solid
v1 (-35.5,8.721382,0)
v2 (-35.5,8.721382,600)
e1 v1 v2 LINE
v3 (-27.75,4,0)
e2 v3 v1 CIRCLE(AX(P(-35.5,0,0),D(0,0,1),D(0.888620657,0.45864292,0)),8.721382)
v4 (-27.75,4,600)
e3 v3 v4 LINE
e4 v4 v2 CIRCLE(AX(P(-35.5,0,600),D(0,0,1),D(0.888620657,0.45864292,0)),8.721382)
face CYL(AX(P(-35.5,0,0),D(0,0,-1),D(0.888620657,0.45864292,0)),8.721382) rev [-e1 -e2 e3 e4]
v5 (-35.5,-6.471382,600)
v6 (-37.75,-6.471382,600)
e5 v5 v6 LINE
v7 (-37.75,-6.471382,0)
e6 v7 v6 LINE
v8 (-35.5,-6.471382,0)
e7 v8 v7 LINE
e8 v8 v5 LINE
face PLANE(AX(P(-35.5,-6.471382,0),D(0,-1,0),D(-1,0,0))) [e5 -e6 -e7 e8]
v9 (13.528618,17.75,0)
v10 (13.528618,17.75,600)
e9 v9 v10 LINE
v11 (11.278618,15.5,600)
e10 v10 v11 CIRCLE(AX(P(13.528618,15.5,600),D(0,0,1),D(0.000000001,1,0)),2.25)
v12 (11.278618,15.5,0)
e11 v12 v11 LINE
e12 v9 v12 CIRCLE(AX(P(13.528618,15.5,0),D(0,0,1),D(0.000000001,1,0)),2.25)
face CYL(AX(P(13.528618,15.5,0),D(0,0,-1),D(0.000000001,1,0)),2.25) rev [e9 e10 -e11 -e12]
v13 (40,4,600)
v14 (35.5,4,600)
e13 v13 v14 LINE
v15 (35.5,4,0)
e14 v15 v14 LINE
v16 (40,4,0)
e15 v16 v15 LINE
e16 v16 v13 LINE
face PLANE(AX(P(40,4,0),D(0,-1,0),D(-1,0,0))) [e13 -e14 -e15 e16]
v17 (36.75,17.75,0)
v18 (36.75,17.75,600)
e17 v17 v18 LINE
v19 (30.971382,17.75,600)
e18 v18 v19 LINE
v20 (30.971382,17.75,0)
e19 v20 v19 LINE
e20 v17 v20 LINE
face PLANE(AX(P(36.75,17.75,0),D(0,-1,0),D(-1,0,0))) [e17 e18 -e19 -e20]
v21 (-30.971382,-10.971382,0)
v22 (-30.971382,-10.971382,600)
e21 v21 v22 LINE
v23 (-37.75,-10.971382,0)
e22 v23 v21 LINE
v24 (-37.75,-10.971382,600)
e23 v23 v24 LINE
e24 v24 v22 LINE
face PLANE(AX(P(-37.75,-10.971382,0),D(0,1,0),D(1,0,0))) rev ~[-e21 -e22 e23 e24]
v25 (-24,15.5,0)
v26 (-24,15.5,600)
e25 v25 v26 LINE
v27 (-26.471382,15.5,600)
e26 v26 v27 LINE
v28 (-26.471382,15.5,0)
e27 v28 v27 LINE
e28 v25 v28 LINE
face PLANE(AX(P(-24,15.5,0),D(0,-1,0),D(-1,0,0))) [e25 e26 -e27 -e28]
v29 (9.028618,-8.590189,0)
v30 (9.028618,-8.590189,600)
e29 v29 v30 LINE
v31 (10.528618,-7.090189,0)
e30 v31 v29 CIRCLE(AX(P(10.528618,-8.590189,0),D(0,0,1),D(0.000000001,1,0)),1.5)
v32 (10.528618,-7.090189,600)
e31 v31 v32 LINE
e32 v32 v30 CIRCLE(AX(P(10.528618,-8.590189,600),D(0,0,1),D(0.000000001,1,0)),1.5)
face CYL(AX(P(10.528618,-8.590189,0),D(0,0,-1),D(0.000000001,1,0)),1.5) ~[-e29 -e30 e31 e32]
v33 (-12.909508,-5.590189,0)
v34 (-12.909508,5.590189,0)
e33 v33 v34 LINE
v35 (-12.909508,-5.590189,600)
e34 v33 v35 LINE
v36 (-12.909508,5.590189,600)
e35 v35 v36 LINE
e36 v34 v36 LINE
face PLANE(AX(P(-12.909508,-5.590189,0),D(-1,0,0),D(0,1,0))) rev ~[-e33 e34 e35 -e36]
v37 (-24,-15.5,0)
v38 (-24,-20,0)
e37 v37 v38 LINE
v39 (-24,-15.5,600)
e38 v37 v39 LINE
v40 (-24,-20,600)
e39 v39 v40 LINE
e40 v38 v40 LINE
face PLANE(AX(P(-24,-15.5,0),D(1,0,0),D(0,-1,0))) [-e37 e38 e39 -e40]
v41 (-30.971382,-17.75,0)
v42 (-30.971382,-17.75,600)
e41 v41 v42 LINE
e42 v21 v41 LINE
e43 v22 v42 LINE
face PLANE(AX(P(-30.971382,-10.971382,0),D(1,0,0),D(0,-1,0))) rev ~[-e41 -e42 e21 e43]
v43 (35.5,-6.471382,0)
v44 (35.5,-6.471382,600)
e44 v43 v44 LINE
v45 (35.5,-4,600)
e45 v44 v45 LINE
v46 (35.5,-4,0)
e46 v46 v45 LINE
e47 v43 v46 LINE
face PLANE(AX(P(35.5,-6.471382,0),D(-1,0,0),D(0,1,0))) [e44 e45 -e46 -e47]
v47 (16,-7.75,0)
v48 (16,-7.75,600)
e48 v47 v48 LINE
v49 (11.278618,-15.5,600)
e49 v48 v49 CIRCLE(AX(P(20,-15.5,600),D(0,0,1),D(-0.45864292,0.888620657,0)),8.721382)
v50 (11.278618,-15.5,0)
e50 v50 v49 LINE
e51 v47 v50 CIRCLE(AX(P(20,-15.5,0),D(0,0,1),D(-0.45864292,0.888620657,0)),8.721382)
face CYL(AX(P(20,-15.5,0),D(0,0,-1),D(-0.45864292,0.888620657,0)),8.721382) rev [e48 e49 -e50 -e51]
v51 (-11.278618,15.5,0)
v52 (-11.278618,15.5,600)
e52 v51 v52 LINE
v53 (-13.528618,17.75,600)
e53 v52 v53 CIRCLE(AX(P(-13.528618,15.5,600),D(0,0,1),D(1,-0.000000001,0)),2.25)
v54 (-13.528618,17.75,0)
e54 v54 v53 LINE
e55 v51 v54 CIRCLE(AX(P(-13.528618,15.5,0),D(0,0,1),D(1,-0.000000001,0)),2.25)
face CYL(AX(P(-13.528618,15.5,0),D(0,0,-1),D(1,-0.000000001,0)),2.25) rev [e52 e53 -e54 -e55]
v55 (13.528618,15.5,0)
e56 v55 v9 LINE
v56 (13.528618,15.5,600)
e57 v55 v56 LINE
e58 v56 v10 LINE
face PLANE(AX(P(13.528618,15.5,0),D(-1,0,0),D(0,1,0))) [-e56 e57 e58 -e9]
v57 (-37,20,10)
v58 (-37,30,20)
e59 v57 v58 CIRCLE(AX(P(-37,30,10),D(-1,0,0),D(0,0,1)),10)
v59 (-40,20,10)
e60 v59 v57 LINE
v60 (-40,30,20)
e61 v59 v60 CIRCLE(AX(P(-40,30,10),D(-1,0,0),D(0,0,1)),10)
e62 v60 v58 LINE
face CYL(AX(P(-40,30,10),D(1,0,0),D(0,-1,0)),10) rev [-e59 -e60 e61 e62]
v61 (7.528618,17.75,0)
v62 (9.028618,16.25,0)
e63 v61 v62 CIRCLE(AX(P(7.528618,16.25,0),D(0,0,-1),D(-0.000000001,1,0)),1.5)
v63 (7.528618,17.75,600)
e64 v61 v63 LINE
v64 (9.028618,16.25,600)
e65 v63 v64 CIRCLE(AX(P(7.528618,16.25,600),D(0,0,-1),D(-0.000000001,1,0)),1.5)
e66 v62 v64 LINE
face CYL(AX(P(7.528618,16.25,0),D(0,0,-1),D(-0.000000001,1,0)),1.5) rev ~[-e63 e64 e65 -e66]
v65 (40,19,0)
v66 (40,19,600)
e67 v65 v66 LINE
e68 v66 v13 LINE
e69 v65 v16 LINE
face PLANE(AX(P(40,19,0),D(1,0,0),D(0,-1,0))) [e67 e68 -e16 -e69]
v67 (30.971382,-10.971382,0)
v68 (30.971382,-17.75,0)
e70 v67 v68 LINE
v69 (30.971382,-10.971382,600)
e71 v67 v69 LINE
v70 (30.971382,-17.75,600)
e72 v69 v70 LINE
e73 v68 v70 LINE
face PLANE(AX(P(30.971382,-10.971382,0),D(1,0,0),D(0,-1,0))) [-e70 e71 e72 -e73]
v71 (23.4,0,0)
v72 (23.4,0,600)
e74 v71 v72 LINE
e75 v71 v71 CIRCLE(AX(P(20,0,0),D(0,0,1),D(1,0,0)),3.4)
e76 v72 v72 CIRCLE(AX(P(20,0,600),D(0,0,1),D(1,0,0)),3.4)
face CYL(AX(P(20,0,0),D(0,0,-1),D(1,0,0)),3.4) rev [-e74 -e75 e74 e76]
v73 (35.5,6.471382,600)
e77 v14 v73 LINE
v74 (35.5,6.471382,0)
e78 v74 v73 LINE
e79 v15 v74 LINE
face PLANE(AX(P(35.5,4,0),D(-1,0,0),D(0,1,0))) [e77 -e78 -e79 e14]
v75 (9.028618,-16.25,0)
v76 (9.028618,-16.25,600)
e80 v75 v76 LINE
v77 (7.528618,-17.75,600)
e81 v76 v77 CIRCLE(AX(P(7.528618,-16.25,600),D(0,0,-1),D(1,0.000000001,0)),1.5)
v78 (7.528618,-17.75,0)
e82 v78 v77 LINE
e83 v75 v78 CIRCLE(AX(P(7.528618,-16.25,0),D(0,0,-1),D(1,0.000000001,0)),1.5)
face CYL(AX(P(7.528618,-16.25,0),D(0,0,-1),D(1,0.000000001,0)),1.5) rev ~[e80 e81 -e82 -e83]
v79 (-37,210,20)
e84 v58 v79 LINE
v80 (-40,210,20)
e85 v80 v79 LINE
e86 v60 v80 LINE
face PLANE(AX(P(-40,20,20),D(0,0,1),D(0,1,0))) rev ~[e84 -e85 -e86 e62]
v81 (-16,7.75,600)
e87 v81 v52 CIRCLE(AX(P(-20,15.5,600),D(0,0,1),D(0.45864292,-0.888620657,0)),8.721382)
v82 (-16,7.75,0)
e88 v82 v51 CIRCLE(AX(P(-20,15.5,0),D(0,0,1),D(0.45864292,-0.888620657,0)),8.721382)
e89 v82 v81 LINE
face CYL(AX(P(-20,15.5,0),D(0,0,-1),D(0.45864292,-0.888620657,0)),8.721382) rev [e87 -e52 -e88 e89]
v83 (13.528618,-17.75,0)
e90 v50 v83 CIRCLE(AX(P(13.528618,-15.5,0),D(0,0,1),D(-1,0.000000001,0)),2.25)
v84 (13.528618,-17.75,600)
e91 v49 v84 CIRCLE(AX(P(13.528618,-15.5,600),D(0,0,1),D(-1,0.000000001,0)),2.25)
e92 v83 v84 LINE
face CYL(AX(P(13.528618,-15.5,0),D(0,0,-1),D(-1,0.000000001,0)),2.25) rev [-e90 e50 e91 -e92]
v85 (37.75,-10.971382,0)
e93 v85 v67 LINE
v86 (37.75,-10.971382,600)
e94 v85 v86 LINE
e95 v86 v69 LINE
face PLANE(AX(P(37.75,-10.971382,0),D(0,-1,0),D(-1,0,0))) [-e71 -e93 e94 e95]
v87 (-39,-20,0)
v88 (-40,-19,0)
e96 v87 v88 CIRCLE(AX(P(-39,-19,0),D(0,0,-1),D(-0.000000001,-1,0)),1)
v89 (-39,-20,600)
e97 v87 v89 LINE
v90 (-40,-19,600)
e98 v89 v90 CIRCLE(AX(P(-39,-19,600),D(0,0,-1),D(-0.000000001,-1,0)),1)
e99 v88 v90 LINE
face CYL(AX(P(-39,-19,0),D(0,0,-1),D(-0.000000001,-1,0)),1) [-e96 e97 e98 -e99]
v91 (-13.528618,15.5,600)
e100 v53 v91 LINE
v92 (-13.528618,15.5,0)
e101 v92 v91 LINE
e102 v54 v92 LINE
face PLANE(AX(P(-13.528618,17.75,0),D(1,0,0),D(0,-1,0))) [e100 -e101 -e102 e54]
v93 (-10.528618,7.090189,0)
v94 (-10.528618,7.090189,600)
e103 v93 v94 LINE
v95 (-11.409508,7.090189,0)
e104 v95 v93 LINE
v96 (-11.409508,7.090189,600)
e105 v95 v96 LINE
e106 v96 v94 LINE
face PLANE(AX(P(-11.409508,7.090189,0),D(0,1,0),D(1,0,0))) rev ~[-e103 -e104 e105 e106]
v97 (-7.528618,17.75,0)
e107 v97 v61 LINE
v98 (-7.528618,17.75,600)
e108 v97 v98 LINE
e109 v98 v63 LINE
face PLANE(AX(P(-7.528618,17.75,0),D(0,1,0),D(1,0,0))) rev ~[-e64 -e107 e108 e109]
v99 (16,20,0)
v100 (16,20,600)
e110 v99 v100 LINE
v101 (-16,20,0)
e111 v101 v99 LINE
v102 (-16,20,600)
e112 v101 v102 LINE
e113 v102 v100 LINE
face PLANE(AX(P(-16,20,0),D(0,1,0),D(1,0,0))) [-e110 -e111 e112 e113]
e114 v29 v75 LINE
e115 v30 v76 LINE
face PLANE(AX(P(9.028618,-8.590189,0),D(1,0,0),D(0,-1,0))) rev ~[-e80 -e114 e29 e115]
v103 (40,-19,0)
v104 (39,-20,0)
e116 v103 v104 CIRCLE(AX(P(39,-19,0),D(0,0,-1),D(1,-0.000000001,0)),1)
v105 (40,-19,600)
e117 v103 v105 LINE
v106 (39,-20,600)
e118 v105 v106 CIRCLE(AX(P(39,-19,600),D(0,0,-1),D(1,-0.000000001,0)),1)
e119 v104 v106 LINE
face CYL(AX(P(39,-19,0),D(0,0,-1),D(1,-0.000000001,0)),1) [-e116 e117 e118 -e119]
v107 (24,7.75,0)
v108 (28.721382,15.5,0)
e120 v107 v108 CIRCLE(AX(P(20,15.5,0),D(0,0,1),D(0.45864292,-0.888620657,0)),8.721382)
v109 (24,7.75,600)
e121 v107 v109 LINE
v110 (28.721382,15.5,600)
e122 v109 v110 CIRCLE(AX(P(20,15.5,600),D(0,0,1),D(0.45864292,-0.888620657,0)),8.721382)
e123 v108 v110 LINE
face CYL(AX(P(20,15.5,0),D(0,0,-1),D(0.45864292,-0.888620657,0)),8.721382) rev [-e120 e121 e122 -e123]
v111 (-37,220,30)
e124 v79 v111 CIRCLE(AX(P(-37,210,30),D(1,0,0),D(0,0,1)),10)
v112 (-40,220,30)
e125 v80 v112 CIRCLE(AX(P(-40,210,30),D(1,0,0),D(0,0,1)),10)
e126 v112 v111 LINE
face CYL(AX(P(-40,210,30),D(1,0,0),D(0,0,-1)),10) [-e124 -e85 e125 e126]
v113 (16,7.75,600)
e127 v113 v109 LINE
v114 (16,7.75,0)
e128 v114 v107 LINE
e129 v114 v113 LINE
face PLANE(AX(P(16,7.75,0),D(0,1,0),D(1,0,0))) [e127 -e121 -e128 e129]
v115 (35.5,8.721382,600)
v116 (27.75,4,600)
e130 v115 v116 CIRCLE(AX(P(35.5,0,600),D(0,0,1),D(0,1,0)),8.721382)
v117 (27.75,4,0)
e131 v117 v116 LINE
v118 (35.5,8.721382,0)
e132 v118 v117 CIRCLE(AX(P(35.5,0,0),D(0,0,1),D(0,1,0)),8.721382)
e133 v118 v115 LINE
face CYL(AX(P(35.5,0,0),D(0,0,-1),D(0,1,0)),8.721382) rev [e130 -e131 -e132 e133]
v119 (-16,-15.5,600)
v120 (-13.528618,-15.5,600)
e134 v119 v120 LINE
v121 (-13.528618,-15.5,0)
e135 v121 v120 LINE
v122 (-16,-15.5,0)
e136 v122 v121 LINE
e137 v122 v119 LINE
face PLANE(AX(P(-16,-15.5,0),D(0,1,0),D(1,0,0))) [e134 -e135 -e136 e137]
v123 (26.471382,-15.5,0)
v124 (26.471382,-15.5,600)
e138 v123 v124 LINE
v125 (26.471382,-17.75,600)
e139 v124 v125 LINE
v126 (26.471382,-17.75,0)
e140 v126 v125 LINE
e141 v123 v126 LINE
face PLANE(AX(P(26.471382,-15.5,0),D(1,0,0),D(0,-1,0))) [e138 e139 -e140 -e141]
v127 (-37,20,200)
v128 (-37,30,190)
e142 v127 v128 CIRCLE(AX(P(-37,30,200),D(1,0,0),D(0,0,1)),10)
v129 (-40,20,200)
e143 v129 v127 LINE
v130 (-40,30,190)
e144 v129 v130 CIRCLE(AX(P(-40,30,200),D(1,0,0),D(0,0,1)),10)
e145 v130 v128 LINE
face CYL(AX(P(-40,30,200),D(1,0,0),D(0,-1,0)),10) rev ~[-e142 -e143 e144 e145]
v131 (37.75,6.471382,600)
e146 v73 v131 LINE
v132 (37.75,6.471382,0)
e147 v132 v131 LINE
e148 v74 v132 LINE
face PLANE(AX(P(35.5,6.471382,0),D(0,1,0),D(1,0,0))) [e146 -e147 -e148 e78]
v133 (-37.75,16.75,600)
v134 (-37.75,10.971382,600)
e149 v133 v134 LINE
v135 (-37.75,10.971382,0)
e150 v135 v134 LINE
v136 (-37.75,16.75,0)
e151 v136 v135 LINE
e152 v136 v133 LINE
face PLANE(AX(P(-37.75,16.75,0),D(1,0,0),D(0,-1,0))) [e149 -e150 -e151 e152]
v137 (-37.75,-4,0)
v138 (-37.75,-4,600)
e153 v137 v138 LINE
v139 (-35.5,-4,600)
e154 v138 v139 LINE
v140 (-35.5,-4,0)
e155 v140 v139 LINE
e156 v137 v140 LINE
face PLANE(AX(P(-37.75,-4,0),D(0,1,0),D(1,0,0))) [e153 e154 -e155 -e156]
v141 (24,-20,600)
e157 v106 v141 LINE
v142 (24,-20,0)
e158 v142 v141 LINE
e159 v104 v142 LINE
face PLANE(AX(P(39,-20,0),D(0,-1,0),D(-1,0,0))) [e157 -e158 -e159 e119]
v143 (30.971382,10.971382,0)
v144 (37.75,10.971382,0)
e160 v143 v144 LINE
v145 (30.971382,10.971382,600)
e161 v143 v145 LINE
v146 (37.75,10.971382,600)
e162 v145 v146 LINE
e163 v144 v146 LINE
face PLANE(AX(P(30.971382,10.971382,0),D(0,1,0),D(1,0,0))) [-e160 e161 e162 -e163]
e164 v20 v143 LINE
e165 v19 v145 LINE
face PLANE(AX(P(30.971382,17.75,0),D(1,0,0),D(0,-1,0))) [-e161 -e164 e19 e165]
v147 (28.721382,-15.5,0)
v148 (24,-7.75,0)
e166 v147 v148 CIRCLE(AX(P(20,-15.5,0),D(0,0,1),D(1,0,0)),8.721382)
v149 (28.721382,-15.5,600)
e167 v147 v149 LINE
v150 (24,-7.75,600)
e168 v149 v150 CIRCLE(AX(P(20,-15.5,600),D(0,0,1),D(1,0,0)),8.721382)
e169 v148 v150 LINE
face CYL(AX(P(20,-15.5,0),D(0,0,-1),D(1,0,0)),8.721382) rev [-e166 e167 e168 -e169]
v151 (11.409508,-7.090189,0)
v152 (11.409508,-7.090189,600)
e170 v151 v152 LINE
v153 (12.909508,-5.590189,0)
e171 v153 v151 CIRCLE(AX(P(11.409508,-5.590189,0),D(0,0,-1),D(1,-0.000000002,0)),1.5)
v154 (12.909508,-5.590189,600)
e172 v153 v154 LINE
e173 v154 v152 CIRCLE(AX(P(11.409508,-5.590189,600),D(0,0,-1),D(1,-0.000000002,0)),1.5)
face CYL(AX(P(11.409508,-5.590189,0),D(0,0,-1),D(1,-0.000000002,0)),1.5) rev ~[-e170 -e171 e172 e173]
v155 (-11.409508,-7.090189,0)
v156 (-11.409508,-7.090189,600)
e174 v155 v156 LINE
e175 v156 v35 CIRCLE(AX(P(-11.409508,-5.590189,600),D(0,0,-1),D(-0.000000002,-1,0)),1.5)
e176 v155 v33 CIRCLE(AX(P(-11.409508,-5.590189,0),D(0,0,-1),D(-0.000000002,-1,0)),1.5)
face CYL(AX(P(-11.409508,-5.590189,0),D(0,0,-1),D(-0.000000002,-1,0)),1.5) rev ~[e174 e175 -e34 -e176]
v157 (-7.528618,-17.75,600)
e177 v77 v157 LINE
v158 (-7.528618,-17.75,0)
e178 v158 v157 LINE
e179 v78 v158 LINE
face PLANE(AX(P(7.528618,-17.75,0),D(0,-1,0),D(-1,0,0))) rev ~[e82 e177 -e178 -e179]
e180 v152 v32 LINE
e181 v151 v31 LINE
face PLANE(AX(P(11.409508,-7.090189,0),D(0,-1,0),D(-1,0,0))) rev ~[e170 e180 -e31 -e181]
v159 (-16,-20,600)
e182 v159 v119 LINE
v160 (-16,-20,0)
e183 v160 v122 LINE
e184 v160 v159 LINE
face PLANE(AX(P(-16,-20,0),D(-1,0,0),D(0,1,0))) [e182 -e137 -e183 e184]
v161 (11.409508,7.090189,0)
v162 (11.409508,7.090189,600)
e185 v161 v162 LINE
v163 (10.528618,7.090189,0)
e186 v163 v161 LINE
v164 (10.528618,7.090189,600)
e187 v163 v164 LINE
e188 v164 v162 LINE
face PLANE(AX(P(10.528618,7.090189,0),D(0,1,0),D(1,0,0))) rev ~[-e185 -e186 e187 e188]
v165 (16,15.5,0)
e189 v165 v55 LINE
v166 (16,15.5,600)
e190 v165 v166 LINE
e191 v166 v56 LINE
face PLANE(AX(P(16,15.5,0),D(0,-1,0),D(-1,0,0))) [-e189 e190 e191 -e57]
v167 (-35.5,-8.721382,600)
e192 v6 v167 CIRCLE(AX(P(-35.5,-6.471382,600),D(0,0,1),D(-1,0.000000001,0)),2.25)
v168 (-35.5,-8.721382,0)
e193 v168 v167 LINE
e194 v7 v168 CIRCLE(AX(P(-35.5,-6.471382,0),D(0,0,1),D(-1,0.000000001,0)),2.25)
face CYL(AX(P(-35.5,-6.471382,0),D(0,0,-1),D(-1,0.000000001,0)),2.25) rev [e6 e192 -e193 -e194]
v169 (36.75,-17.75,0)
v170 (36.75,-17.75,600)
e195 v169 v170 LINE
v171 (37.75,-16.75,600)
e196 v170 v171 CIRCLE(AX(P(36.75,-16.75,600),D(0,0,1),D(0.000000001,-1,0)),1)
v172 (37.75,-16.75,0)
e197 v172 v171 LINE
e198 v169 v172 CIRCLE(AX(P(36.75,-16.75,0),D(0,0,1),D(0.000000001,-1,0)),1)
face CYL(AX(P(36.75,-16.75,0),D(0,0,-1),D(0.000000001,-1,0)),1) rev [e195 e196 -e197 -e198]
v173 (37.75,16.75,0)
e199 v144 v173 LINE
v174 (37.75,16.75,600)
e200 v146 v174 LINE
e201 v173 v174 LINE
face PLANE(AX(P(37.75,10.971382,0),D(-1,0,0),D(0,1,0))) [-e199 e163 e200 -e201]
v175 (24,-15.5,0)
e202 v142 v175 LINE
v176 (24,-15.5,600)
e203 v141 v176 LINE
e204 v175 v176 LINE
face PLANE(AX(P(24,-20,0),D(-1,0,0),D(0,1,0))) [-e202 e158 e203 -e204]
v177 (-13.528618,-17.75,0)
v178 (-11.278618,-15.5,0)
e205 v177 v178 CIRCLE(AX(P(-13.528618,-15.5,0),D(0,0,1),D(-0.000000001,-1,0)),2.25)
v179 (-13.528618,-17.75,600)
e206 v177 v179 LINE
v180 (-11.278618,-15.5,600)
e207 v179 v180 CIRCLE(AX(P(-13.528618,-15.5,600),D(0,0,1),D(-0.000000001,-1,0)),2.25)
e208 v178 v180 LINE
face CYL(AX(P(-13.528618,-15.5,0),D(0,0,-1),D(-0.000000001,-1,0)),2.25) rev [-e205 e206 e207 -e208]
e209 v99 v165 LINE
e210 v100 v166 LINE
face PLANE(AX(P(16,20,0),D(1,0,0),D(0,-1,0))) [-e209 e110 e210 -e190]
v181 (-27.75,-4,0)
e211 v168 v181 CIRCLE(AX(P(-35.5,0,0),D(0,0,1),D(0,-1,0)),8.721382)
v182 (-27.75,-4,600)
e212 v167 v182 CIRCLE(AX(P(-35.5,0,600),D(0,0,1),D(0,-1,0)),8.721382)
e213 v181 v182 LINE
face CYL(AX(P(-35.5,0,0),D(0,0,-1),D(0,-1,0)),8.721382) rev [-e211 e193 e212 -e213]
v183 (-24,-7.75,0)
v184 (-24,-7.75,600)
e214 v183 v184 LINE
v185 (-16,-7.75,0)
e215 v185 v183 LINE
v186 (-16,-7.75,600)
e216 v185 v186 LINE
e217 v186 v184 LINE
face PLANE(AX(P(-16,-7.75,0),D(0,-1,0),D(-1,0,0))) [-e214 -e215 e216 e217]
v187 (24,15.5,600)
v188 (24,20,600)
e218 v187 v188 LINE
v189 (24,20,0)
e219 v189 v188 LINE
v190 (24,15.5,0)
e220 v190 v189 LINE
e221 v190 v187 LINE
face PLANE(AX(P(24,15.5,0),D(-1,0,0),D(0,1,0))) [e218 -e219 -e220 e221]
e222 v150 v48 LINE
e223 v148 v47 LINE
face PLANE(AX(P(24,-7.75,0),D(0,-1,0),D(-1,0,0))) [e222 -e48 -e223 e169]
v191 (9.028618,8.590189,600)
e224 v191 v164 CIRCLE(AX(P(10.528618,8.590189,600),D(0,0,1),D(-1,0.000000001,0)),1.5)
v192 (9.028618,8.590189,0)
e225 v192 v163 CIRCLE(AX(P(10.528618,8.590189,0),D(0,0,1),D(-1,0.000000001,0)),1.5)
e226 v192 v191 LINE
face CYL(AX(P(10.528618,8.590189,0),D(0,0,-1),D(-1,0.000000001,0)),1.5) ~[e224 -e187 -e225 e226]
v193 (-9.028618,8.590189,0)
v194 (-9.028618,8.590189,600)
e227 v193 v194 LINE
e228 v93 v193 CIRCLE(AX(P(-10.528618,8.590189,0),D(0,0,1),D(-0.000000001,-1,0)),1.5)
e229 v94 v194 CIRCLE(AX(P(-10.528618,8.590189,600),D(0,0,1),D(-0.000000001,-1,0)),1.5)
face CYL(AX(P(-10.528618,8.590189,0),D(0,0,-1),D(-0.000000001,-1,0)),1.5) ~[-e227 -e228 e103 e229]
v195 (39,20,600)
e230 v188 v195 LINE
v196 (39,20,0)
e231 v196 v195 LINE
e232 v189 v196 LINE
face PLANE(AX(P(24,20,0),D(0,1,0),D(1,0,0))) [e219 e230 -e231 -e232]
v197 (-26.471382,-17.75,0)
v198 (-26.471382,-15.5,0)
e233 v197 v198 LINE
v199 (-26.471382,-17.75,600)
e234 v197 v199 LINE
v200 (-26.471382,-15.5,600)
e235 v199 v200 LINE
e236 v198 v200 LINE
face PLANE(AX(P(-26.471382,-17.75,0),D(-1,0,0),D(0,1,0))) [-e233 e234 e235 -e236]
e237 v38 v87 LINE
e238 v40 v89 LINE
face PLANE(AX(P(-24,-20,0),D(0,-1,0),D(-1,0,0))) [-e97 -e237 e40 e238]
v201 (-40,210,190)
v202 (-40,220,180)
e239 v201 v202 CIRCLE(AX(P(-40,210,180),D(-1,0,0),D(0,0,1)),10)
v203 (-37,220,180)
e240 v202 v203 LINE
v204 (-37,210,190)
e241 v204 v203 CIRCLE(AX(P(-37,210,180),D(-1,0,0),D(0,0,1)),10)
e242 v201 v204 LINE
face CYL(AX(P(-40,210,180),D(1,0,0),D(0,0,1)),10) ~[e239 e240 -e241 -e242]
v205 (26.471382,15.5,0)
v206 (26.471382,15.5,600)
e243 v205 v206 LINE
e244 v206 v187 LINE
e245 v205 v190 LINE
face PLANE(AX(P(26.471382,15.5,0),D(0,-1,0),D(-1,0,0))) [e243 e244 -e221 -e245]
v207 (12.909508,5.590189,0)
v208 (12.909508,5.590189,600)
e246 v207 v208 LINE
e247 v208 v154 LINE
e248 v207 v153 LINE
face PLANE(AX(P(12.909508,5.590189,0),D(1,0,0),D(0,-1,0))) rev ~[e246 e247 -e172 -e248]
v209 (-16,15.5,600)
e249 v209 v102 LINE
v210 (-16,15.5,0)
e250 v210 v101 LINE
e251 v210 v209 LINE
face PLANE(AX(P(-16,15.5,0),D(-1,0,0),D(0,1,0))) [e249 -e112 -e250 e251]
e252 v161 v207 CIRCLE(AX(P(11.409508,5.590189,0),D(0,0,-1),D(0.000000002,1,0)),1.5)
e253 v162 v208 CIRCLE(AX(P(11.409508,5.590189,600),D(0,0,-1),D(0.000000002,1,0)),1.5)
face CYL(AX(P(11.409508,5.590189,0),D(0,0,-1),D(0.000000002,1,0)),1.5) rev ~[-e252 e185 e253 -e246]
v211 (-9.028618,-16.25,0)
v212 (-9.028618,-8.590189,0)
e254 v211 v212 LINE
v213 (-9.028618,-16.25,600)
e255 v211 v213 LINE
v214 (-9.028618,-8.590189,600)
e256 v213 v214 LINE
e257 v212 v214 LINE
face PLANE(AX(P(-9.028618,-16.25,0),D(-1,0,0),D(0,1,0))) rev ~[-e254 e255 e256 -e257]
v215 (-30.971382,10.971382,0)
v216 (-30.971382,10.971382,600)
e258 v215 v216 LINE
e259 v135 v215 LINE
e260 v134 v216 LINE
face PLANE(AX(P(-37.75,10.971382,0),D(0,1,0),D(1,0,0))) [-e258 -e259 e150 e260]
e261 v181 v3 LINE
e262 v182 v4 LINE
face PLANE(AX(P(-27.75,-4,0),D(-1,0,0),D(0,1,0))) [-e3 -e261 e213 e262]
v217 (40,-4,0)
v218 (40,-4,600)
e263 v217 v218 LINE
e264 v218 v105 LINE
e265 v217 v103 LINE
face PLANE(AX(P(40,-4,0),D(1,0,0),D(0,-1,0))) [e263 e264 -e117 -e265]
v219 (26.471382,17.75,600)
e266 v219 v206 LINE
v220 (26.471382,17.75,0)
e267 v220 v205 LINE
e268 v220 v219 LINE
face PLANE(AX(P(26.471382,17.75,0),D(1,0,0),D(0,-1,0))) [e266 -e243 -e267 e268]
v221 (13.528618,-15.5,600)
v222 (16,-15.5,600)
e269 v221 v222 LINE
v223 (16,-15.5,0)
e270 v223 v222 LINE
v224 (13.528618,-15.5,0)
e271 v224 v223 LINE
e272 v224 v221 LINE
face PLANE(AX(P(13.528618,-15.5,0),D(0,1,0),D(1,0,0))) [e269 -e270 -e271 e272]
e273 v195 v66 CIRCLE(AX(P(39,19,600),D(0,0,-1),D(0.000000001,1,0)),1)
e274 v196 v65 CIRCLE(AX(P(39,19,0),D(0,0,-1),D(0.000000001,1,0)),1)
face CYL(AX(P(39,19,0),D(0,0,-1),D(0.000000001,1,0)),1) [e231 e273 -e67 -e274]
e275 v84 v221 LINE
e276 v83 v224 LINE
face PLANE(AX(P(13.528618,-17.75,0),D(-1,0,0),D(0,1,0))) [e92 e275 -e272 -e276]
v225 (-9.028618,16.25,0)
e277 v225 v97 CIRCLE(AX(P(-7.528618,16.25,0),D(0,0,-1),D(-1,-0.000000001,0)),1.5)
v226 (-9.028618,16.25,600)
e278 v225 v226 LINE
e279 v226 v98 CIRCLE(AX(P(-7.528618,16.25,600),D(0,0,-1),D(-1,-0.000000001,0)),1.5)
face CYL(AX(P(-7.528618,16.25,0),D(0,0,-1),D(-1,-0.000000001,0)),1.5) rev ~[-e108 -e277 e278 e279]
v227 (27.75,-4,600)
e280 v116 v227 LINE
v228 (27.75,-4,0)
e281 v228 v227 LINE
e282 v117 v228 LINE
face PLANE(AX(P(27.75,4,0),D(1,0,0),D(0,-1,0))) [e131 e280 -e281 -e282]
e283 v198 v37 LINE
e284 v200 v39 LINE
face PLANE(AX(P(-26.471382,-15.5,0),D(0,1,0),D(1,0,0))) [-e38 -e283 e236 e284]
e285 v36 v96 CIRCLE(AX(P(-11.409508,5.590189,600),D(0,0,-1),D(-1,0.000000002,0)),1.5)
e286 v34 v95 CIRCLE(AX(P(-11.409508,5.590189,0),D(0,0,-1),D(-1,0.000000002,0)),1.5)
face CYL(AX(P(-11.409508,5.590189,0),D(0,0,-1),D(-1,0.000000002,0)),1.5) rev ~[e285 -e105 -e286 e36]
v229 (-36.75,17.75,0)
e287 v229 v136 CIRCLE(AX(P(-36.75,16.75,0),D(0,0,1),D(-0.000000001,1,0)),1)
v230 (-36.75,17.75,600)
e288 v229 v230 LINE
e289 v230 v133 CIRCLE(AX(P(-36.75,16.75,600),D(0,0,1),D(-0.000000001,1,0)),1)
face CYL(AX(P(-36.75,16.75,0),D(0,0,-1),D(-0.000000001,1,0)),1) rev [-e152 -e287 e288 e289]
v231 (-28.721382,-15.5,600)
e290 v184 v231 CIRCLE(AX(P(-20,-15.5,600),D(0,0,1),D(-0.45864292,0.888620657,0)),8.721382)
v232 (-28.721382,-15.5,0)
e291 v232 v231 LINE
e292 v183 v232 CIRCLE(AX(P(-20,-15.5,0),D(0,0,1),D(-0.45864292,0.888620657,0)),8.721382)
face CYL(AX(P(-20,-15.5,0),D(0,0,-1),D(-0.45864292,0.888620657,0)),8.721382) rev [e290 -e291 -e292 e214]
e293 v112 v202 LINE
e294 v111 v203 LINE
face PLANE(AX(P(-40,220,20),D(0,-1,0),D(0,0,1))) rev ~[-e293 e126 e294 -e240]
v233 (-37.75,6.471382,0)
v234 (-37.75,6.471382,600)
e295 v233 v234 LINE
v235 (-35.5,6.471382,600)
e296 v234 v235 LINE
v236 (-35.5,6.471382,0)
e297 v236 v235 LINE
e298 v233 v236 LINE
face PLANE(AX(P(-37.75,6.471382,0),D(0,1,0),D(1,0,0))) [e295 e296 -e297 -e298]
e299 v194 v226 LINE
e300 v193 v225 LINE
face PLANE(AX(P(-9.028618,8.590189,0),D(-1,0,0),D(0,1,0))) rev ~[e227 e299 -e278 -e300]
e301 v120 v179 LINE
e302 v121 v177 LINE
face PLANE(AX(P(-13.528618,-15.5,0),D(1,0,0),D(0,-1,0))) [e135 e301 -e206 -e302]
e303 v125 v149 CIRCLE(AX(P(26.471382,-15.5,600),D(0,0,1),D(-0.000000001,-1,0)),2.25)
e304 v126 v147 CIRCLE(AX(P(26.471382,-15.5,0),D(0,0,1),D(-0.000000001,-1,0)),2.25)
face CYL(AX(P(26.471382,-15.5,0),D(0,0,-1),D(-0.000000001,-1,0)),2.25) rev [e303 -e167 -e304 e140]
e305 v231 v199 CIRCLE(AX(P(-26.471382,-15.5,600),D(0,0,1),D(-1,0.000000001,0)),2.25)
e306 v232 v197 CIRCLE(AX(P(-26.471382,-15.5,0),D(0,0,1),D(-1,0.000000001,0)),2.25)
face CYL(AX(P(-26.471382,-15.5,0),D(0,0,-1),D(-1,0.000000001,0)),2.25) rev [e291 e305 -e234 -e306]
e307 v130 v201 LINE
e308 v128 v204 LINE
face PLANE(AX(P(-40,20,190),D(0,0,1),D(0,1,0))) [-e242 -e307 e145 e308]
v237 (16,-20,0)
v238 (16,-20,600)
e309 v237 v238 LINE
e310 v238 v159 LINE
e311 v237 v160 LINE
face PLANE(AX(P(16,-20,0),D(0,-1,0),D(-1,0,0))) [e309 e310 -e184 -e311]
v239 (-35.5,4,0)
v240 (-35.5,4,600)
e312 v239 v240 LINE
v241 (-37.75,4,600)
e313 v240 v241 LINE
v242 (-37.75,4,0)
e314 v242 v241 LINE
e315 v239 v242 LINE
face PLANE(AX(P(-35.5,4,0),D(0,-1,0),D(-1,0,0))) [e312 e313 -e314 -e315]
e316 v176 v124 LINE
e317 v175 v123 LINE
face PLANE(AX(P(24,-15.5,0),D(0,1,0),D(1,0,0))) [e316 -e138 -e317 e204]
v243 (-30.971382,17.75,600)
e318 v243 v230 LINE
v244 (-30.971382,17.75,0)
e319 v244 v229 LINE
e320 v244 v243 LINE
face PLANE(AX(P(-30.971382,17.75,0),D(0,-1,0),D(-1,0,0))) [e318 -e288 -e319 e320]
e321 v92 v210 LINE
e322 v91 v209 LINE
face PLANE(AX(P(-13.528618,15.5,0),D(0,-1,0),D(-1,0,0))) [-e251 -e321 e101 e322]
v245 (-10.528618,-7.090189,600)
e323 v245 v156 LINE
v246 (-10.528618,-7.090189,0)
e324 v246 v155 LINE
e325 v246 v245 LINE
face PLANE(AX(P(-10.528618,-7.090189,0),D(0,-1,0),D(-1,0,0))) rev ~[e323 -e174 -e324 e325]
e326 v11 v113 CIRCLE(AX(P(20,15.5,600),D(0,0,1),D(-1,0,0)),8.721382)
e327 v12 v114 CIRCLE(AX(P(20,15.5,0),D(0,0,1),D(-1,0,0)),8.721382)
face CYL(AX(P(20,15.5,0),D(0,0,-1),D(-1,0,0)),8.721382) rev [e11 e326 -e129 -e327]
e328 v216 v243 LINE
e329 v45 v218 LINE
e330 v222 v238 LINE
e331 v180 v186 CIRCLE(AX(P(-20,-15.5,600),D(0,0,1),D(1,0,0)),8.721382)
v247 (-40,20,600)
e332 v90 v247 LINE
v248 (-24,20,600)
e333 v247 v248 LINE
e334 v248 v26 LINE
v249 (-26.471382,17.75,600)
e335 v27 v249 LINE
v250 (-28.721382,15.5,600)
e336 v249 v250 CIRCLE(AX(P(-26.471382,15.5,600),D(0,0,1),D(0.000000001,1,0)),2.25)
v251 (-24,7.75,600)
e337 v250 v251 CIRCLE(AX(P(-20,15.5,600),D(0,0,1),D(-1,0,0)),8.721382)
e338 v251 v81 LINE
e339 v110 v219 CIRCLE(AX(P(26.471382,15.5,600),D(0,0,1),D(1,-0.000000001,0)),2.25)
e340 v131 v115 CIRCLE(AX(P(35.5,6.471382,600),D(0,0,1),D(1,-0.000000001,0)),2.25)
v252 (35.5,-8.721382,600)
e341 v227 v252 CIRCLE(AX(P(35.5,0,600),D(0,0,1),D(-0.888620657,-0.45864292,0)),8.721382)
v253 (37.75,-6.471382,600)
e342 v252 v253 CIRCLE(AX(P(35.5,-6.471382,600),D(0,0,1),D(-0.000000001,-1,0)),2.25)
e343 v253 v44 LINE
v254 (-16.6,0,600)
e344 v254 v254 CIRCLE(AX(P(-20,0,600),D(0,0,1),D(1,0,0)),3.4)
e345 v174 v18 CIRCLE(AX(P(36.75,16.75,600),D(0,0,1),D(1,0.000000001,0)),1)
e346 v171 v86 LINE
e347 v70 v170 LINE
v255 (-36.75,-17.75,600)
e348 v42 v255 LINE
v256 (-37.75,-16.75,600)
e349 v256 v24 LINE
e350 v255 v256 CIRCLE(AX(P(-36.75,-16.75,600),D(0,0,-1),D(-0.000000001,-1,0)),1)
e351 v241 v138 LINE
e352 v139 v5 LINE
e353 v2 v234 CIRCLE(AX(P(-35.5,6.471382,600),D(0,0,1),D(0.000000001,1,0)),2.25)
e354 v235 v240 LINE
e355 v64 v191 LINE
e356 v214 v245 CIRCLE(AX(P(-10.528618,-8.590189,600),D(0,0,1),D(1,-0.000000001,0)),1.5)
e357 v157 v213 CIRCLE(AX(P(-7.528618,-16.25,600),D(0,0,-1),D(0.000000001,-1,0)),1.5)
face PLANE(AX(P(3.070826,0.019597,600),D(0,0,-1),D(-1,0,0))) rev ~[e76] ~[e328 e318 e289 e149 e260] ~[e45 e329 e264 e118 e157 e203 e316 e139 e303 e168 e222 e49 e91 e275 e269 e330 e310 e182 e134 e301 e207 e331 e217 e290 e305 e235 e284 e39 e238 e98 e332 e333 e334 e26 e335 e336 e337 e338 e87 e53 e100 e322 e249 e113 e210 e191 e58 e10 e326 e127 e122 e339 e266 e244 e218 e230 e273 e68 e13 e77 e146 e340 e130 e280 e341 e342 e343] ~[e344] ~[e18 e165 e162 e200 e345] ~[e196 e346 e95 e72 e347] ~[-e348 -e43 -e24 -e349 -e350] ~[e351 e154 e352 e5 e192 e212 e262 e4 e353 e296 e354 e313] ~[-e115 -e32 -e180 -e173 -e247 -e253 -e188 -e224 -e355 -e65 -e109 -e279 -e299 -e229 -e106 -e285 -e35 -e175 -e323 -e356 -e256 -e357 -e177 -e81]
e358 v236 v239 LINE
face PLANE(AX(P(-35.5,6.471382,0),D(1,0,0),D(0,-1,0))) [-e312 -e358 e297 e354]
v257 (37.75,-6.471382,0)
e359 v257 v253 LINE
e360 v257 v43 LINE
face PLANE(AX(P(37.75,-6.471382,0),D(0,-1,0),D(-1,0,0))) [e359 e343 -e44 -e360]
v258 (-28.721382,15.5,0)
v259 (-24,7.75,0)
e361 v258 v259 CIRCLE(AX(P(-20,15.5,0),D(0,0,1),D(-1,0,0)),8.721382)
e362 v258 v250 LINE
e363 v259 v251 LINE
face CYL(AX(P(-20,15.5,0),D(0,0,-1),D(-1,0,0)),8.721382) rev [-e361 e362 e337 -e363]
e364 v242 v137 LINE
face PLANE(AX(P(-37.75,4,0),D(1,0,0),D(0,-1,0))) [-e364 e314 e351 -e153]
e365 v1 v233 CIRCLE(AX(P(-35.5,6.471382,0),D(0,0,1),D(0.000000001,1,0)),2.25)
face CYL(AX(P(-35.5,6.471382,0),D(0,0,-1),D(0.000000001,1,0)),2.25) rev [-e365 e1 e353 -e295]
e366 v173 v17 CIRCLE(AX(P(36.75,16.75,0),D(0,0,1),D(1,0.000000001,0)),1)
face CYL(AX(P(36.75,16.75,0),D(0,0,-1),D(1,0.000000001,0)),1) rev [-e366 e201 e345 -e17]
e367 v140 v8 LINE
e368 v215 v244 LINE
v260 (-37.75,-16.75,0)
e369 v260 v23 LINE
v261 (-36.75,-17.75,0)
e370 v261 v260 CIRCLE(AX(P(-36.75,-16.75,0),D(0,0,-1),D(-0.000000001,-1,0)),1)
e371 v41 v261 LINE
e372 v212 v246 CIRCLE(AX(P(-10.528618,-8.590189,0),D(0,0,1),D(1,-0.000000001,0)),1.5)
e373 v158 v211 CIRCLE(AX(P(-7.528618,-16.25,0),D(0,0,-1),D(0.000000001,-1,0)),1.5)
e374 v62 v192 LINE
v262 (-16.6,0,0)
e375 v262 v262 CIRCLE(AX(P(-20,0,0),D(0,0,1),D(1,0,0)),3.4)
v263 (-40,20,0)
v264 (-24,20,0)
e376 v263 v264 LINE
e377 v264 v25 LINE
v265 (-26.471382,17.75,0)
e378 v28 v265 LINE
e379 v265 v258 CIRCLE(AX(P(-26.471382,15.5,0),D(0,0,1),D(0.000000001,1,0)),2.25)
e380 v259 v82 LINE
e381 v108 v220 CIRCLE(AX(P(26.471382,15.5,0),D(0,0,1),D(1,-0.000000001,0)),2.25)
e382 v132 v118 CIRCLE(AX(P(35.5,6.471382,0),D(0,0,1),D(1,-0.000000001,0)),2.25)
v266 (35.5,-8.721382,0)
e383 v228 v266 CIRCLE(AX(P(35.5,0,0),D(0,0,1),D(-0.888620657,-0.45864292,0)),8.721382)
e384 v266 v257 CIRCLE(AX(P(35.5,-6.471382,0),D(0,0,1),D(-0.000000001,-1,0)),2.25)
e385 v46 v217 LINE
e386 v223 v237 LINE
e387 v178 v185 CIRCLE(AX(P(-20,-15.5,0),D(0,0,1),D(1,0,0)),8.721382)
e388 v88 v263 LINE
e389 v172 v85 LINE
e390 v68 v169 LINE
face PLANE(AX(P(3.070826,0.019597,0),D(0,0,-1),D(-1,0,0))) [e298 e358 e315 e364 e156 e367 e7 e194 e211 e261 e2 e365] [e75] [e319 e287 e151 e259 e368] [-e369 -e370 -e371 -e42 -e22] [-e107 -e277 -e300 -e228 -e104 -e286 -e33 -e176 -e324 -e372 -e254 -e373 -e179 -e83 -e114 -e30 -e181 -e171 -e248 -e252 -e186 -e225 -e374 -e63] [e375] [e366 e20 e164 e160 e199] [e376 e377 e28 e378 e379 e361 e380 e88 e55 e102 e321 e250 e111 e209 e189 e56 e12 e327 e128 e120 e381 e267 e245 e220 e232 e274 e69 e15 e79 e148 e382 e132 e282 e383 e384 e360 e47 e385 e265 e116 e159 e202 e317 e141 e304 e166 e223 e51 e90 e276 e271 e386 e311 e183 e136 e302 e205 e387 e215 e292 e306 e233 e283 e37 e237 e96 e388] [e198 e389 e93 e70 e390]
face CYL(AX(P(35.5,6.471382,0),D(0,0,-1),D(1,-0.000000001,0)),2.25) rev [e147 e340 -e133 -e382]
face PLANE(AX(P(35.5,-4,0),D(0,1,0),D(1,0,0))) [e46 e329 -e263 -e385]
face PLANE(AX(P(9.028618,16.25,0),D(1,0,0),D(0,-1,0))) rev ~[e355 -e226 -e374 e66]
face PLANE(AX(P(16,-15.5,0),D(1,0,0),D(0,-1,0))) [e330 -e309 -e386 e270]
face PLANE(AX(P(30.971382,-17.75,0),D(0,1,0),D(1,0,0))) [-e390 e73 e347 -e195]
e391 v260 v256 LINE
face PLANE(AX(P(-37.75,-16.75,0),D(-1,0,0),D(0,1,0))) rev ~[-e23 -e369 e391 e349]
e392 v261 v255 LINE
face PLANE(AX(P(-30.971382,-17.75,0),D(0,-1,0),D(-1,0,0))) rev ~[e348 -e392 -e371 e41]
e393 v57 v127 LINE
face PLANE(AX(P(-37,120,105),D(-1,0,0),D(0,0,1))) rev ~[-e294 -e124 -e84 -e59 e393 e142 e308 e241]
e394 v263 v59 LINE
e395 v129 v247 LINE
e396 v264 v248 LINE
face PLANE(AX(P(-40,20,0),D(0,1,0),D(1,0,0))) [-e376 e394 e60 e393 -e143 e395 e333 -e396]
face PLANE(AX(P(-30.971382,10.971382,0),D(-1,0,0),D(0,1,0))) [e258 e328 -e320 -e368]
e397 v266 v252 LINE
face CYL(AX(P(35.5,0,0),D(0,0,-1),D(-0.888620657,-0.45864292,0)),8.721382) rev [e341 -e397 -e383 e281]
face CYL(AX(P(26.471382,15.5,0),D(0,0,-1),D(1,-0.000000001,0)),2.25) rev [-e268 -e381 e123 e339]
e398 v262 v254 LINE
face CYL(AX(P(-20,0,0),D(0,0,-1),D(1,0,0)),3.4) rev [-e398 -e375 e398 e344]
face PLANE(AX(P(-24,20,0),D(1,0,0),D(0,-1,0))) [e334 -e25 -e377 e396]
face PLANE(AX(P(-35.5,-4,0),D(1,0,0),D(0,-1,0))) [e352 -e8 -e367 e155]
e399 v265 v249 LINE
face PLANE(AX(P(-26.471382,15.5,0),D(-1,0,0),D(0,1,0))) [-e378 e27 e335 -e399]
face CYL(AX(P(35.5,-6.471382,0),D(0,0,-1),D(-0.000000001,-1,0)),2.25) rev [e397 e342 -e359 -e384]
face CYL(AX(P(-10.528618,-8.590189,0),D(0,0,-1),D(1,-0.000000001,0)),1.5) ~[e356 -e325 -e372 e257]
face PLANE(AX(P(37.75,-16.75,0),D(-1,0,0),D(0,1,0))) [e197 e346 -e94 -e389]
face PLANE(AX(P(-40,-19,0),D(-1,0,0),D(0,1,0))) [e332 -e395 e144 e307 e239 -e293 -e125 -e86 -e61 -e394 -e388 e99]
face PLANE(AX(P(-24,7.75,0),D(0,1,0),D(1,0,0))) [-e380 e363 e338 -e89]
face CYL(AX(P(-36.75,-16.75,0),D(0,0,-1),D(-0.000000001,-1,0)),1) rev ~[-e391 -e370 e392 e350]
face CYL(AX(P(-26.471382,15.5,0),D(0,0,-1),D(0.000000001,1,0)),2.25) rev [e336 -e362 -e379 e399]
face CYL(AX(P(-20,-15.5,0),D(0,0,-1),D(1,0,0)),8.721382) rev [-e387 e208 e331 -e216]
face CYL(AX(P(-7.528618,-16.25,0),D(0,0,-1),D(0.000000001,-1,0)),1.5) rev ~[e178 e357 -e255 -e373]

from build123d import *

# Parameters (mm, degrees)
SZKIC1_R                    = 3.4
DODANIE_WYCI_GNI_CIE1_DEPTH = 600
SZKIC2_W                    = 170
SZKIC2_H                    = 200
DODANIE_WYCI_GNI_CIE3_DEPTH = 3
ZAOKR_GLENIE1_R             = 10


with BuildPart() as part:
    # Szkic1 → Dodanie-wyciągnięcie1 (new body)
    with BuildSketch(Plane.XY):
        with BuildLine():
            Line((-40, -19), (-40, 20))
            Line((-40, 20), (-24, 20))
            Line((-24, 20), (-24, 15.5))
            Line((-24, 15.5), (-26.471381771, 15.5))
            Line((-26.471381771, 15.5), (-26.471381771, 17.75))
            ThreePointArc((-26.471381771, 17.75), (-28.062372029, 17.090990258), (-28.721381771, 15.5))
            ThreePointArc((-28.721381771, 15.5), (-27.448087912, 10.962546258), (-24, 7.75))
            Line((-24, 7.75), (-16, 7.75))
            ThreePointArc((-16, 7.75), (-12.551912088, 10.962546258), (-11.278618229, 15.5))
            ThreePointArc((-11.278618229, 15.5), (-11.937627971, 17.090990258), (-13.528618229, 17.75))
            Line((-13.528618229, 17.75), (-13.528618229, 15.5))
            Line((-13.528618229, 15.5), (-16, 15.5))
            Line((-16, 15.5), (-16, 20))
            Line((-16, 20), (13.528618229, 20))
            Line((13.528618229, 20), (16, 20))
            Line((16, 20), (16, 15.5))
            Line((16, 15.5), (13.528618229, 15.5))
            Line((13.528618229, 15.5), (13.528618229, 17.75))
            ThreePointArc((13.528618229, 17.75), (11.937627971, 17.090990258), (11.278618229, 15.5))
            ThreePointArc((11.278618229, 15.5), (12.551912088, 10.962546258), (16, 7.75))
            Line((16, 7.75), (24, 7.75))
            ThreePointArc((24, 7.75), (27.448087912, 10.962546258), (28.721381771, 15.5))
            ThreePointArc((28.721381771, 15.5), (28.062372029, 17.090990258), (26.471381771, 17.75))
            Line((26.471381771, 17.75), (26.471381771, 15.5))
            Line((26.471381771, 15.5), (24, 15.5))
            Line((24, 15.5), (24, 20))
            Line((24, 20), (39, 20))
            ThreePointArc((39, 20), (39.707106781, 19.707106781), (40, 19))
            Line((40, 19), (40, 4))
            Line((40, 4), (35.5, 4))
            Line((35.5, 4), (35.5, 6.471381771))
            Line((35.5, 6.471381771), (37.75, 6.471381771))
            ThreePointArc((37.75, 6.471381771), (37.090990258, 8.062372029), (35.5, 8.721381771))
            ThreePointArc((35.5, 8.721381771), (30.962546258, 7.448087912), (27.75, 4))
            Line((27.75, 4), (27.75, -4))
            ThreePointArc((27.75, -4), (30.962546258, -7.448087912), (35.5, -8.721381771))
            ThreePointArc((35.5, -8.721381771), (37.090990258, -8.062372029), (37.75, -6.471381771))
            Line((37.75, -6.471381771), (35.5, -6.471381771))
            Line((35.5, -6.471381771), (35.5, -4))
            Line((35.5, -4), (40, -4))
            Line((40, -4), (40, -19))
            ThreePointArc((40, -19), (39.707106781, -19.707106781), (39, -20))
            Line((39, -20), (24, -20))
            Line((24, -20), (24, -15.5))
            Line((24, -15.5), (26.471381771, -15.5))
            Line((26.471381771, -15.5), (26.471381771, -17.75))
            ThreePointArc((26.471381771, -17.75), (28.062372029, -17.090990258), (28.721381771, -15.5))
            ThreePointArc((28.721381771, -15.5), (27.448087912, -10.962546258), (24, -7.75))
            Line((24, -7.75), (16, -7.75))
            ThreePointArc((16, -7.75), (12.551912088, -10.962546258), (11.278618229, -15.5))
            ThreePointArc((11.278618229, -15.5), (11.937627971, -17.090990258), (13.528618229, -17.75))
            Line((13.528618229, -17.75), (13.528618229, -15.5))
            Line((13.528618229, -15.5), (16, -15.5))
            Line((16, -15.5), (16, -20))
            Line((16, -20), (-16, -20))
            Line((-16, -20), (-16, -15.5))
            Line((-16, -15.5), (-13.528618229, -15.5))
            Line((-13.528618229, -15.5), (-13.528618229, -17.75))
            ThreePointArc((-13.528618229, -17.75), (-11.937627971, -17.090990258), (-11.278618229, -15.5))
            ThreePointArc((-11.278618229, -15.5), (-12.551912088, -10.962546258), (-16, -7.75))
            Line((-16, -7.75), (-24, -7.75))
            ThreePointArc((-24, -7.75), (-27.448087912, -10.962546258), (-28.721381771, -15.5))
            ThreePointArc((-28.721381771, -15.5), (-28.062372029, -17.090990258), (-26.471381771, -17.75))
            Line((-26.471381771, -17.75), (-26.471381771, -15.5))
            Line((-26.471381771, -15.5), (-24, -15.5))
            Line((-24, -15.5), (-24, -20))
            Line((-24, -20), (-39, -20))
            ThreePointArc((-39, -20), (-39.707106781, -19.707106781), (-40, -19))
        make_face()
        with Locations((-20, 0)):
            Circle(SZKIC1_R, mode=Mode.SUBTRACT)
        with Locations((20, 0)):
            Circle(SZKIC1_R, mode=Mode.SUBTRACT)
        with BuildLine():
            Line((30.971381771, -17.75), (36.75, -17.75))
            ThreePointArc((36.75, -17.75), (37.457106781, -17.457106781), (37.75, -16.75))
            Line((37.75, -16.75), (37.75, -10.971381771))
            Line((37.75, -10.971381771), (30.971381771, -10.971381771))
            Line((30.971381771, -10.971381771), (30.971381771, -17.75))
        make_face(mode=Mode.SUBTRACT)
        with BuildLine():
            Line((-35.5, -6.471381771), (-37.75, -6.471381771))
            ThreePointArc((-37.75, -6.471381771), (-37.090990258, -8.062372029), (-35.5, -8.721381771))
            ThreePointArc((-35.5, -8.721381771), (-30.962546258, -7.448087912), (-27.75, -4))
            Line((-27.75, -4), (-27.75, 4))
            ThreePointArc((-27.75, 4), (-30.962546258, 7.448087912), (-35.5, 8.721381771))
            ThreePointArc((-35.5, 8.721381771), (-37.090990258, 8.062372029), (-37.75, 6.471381771))
            Line((-37.75, 6.471381771), (-35.5, 6.471381771))
            Line((-35.5, 6.471381771), (-35.5, 4))
            Line((-35.5, 4), (-37.75, 4))
            Line((-37.75, 4), (-37.75, -4))
            Line((-37.75, -4), (-35.5, -4))
            Line((-35.5, -4), (-35.5, -6.471381771))
        make_face(mode=Mode.SUBTRACT)
        with BuildLine():
            Line((10.528618229, 7.090188806), (11.40950808, 7.090188806))
            ThreePointArc((11.40950808, 7.090188806), (12.470168251, 6.650848977), (12.90950808, 5.590188806))
            Line((12.90950808, 5.590188806), (12.90950808, -5.590188806))
            ThreePointArc((12.90950808, -5.590188806), (12.470168251, -6.650848977), (11.40950808, -7.090188806))
            Line((11.40950808, -7.090188806), (10.528618229, -7.090188806))
            ThreePointArc((10.528618229, -7.090188806), (9.467958057, -7.529528634), (9.028618229, -8.590188806))
            Line((9.028618229, -8.590188806), (9.028618229, -16.25))
            ThreePointArc((9.028618229, -16.25), (8.589278401, -17.310660172), (7.528618229, -17.75))
            Line((7.528618229, -17.75), (-7.528618229, -17.75))
            ThreePointArc((-7.528618229, -17.75), (-8.589278401, -17.310660172), (-9.028618229, -16.25))
            Line((-9.028618229, -16.25), (-9.028618229, -8.590188806))
            ThreePointArc((-9.028618229, -8.590188806), (-9.467958057, -7.529528634), (-10.528618229, -7.090188806))
            Line((-10.528618229, -7.090188806), (-11.40950808, -7.090188806))
            ThreePointArc((-11.40950808, -7.090188806), (-12.470168251, -6.650848977), (-12.90950808, -5.590188806))
            Line((-12.90950808, -5.590188806), (-12.90950808, 5.590188806))
            ThreePointArc((-12.90950808, 5.590188806), (-12.470168251, 6.650848977), (-11.40950808, 7.090188806))
            Line((-11.40950808, 7.090188806), (-10.528618229, 7.090188806))
            ThreePointArc((-10.528618229, 7.090188806), (-9.467958057, 7.529528634), (-9.028618229, 8.590188806))
            Line((-9.028618229, 8.590188806), (-9.028618229, 16.25))
            ThreePointArc((-9.028618229, 16.25), (-8.589278401, 17.310660172), (-7.528618229, 17.75))
            Line((-7.528618229, 17.75), (7.528618229, 17.75))
            ThreePointArc((7.528618229, 17.75), (8.589278401, 17.310660172), (9.028618229, 16.25))
            Line((9.028618229, 16.25), (9.028618229, 8.590188806))
            ThreePointArc((9.028618229, 8.590188806), (9.467958057, 7.529528634), (10.528618229, 7.090188806))
        make_face(mode=Mode.SUBTRACT)
        with BuildLine():
            Line((30.971381771, 10.971381771), (37.75, 10.971381771))
            Line((37.75, 10.971381771), (37.75, 16.75))
            ThreePointArc((37.75, 16.75), (37.457106781, 17.457106781), (36.75, 17.75))
            Line((36.75, 17.75), (30.971381771, 17.75))
            Line((30.971381771, 17.75), (30.971381771, 10.971381771))
        make_face(mode=Mode.SUBTRACT)
        with BuildLine():
            Line((-30.971381771, -10.971381771), (-30.971381771, -17.75))
            Line((-30.971381771, -17.75), (-36.75, -17.75))
            ThreePointArc((-36.75, -17.75), (-37.457106781, -17.457106781), (-37.75, -16.75))
            Line((-37.75, -16.75), (-37.75, -10.971381771))
            Line((-37.75, -10.971381771), (-30.971381771, -10.971381771))
        make_face(mode=Mode.SUBTRACT)
        with BuildLine():
            Line((-30.971381771, 17.75), (-36.75, 17.75))
            ThreePointArc((-36.75, 17.75), (-37.457106781, 17.457106781), (-37.75, 16.75))
            Line((-37.75, 16.75), (-37.75, 10.971381771))
            Line((-37.75, 10.971381771), (-30.971381771, 10.971381771))
            Line((-30.971381771, 10.971381771), (-30.971381771, 17.75))
        make_face(mode=Mode.SUBTRACT)
    extrude(amount=DODANIE_WYCI_GNI_CIE1_DEPTH)

    # Szkic2 → Dodanie-wyciągnięcie3 (add)
    with BuildSketch(Plane.ZY.offset(40)):
        with Locations((105, 120)):
            Rectangle(SZKIC2_W, SZKIC2_H)
    extrude(amount=-DODANIE_WYCI_GNI_CIE3_DEPTH)

    # Zaokrąglenie1
    zaokr_glenie1_edges = [part.edges().sort_by_distance(p)[0] for p in [
        (-38.5, 20, 20),
        (-38.5, 220, 20),
        (-38.5, 220, 190),
        (-38.5, 20, 190),
    ]]
    fillet(zaokr_glenie1_edges, radius=ZAOKR_GLENIE1_R)


solid = part.part
